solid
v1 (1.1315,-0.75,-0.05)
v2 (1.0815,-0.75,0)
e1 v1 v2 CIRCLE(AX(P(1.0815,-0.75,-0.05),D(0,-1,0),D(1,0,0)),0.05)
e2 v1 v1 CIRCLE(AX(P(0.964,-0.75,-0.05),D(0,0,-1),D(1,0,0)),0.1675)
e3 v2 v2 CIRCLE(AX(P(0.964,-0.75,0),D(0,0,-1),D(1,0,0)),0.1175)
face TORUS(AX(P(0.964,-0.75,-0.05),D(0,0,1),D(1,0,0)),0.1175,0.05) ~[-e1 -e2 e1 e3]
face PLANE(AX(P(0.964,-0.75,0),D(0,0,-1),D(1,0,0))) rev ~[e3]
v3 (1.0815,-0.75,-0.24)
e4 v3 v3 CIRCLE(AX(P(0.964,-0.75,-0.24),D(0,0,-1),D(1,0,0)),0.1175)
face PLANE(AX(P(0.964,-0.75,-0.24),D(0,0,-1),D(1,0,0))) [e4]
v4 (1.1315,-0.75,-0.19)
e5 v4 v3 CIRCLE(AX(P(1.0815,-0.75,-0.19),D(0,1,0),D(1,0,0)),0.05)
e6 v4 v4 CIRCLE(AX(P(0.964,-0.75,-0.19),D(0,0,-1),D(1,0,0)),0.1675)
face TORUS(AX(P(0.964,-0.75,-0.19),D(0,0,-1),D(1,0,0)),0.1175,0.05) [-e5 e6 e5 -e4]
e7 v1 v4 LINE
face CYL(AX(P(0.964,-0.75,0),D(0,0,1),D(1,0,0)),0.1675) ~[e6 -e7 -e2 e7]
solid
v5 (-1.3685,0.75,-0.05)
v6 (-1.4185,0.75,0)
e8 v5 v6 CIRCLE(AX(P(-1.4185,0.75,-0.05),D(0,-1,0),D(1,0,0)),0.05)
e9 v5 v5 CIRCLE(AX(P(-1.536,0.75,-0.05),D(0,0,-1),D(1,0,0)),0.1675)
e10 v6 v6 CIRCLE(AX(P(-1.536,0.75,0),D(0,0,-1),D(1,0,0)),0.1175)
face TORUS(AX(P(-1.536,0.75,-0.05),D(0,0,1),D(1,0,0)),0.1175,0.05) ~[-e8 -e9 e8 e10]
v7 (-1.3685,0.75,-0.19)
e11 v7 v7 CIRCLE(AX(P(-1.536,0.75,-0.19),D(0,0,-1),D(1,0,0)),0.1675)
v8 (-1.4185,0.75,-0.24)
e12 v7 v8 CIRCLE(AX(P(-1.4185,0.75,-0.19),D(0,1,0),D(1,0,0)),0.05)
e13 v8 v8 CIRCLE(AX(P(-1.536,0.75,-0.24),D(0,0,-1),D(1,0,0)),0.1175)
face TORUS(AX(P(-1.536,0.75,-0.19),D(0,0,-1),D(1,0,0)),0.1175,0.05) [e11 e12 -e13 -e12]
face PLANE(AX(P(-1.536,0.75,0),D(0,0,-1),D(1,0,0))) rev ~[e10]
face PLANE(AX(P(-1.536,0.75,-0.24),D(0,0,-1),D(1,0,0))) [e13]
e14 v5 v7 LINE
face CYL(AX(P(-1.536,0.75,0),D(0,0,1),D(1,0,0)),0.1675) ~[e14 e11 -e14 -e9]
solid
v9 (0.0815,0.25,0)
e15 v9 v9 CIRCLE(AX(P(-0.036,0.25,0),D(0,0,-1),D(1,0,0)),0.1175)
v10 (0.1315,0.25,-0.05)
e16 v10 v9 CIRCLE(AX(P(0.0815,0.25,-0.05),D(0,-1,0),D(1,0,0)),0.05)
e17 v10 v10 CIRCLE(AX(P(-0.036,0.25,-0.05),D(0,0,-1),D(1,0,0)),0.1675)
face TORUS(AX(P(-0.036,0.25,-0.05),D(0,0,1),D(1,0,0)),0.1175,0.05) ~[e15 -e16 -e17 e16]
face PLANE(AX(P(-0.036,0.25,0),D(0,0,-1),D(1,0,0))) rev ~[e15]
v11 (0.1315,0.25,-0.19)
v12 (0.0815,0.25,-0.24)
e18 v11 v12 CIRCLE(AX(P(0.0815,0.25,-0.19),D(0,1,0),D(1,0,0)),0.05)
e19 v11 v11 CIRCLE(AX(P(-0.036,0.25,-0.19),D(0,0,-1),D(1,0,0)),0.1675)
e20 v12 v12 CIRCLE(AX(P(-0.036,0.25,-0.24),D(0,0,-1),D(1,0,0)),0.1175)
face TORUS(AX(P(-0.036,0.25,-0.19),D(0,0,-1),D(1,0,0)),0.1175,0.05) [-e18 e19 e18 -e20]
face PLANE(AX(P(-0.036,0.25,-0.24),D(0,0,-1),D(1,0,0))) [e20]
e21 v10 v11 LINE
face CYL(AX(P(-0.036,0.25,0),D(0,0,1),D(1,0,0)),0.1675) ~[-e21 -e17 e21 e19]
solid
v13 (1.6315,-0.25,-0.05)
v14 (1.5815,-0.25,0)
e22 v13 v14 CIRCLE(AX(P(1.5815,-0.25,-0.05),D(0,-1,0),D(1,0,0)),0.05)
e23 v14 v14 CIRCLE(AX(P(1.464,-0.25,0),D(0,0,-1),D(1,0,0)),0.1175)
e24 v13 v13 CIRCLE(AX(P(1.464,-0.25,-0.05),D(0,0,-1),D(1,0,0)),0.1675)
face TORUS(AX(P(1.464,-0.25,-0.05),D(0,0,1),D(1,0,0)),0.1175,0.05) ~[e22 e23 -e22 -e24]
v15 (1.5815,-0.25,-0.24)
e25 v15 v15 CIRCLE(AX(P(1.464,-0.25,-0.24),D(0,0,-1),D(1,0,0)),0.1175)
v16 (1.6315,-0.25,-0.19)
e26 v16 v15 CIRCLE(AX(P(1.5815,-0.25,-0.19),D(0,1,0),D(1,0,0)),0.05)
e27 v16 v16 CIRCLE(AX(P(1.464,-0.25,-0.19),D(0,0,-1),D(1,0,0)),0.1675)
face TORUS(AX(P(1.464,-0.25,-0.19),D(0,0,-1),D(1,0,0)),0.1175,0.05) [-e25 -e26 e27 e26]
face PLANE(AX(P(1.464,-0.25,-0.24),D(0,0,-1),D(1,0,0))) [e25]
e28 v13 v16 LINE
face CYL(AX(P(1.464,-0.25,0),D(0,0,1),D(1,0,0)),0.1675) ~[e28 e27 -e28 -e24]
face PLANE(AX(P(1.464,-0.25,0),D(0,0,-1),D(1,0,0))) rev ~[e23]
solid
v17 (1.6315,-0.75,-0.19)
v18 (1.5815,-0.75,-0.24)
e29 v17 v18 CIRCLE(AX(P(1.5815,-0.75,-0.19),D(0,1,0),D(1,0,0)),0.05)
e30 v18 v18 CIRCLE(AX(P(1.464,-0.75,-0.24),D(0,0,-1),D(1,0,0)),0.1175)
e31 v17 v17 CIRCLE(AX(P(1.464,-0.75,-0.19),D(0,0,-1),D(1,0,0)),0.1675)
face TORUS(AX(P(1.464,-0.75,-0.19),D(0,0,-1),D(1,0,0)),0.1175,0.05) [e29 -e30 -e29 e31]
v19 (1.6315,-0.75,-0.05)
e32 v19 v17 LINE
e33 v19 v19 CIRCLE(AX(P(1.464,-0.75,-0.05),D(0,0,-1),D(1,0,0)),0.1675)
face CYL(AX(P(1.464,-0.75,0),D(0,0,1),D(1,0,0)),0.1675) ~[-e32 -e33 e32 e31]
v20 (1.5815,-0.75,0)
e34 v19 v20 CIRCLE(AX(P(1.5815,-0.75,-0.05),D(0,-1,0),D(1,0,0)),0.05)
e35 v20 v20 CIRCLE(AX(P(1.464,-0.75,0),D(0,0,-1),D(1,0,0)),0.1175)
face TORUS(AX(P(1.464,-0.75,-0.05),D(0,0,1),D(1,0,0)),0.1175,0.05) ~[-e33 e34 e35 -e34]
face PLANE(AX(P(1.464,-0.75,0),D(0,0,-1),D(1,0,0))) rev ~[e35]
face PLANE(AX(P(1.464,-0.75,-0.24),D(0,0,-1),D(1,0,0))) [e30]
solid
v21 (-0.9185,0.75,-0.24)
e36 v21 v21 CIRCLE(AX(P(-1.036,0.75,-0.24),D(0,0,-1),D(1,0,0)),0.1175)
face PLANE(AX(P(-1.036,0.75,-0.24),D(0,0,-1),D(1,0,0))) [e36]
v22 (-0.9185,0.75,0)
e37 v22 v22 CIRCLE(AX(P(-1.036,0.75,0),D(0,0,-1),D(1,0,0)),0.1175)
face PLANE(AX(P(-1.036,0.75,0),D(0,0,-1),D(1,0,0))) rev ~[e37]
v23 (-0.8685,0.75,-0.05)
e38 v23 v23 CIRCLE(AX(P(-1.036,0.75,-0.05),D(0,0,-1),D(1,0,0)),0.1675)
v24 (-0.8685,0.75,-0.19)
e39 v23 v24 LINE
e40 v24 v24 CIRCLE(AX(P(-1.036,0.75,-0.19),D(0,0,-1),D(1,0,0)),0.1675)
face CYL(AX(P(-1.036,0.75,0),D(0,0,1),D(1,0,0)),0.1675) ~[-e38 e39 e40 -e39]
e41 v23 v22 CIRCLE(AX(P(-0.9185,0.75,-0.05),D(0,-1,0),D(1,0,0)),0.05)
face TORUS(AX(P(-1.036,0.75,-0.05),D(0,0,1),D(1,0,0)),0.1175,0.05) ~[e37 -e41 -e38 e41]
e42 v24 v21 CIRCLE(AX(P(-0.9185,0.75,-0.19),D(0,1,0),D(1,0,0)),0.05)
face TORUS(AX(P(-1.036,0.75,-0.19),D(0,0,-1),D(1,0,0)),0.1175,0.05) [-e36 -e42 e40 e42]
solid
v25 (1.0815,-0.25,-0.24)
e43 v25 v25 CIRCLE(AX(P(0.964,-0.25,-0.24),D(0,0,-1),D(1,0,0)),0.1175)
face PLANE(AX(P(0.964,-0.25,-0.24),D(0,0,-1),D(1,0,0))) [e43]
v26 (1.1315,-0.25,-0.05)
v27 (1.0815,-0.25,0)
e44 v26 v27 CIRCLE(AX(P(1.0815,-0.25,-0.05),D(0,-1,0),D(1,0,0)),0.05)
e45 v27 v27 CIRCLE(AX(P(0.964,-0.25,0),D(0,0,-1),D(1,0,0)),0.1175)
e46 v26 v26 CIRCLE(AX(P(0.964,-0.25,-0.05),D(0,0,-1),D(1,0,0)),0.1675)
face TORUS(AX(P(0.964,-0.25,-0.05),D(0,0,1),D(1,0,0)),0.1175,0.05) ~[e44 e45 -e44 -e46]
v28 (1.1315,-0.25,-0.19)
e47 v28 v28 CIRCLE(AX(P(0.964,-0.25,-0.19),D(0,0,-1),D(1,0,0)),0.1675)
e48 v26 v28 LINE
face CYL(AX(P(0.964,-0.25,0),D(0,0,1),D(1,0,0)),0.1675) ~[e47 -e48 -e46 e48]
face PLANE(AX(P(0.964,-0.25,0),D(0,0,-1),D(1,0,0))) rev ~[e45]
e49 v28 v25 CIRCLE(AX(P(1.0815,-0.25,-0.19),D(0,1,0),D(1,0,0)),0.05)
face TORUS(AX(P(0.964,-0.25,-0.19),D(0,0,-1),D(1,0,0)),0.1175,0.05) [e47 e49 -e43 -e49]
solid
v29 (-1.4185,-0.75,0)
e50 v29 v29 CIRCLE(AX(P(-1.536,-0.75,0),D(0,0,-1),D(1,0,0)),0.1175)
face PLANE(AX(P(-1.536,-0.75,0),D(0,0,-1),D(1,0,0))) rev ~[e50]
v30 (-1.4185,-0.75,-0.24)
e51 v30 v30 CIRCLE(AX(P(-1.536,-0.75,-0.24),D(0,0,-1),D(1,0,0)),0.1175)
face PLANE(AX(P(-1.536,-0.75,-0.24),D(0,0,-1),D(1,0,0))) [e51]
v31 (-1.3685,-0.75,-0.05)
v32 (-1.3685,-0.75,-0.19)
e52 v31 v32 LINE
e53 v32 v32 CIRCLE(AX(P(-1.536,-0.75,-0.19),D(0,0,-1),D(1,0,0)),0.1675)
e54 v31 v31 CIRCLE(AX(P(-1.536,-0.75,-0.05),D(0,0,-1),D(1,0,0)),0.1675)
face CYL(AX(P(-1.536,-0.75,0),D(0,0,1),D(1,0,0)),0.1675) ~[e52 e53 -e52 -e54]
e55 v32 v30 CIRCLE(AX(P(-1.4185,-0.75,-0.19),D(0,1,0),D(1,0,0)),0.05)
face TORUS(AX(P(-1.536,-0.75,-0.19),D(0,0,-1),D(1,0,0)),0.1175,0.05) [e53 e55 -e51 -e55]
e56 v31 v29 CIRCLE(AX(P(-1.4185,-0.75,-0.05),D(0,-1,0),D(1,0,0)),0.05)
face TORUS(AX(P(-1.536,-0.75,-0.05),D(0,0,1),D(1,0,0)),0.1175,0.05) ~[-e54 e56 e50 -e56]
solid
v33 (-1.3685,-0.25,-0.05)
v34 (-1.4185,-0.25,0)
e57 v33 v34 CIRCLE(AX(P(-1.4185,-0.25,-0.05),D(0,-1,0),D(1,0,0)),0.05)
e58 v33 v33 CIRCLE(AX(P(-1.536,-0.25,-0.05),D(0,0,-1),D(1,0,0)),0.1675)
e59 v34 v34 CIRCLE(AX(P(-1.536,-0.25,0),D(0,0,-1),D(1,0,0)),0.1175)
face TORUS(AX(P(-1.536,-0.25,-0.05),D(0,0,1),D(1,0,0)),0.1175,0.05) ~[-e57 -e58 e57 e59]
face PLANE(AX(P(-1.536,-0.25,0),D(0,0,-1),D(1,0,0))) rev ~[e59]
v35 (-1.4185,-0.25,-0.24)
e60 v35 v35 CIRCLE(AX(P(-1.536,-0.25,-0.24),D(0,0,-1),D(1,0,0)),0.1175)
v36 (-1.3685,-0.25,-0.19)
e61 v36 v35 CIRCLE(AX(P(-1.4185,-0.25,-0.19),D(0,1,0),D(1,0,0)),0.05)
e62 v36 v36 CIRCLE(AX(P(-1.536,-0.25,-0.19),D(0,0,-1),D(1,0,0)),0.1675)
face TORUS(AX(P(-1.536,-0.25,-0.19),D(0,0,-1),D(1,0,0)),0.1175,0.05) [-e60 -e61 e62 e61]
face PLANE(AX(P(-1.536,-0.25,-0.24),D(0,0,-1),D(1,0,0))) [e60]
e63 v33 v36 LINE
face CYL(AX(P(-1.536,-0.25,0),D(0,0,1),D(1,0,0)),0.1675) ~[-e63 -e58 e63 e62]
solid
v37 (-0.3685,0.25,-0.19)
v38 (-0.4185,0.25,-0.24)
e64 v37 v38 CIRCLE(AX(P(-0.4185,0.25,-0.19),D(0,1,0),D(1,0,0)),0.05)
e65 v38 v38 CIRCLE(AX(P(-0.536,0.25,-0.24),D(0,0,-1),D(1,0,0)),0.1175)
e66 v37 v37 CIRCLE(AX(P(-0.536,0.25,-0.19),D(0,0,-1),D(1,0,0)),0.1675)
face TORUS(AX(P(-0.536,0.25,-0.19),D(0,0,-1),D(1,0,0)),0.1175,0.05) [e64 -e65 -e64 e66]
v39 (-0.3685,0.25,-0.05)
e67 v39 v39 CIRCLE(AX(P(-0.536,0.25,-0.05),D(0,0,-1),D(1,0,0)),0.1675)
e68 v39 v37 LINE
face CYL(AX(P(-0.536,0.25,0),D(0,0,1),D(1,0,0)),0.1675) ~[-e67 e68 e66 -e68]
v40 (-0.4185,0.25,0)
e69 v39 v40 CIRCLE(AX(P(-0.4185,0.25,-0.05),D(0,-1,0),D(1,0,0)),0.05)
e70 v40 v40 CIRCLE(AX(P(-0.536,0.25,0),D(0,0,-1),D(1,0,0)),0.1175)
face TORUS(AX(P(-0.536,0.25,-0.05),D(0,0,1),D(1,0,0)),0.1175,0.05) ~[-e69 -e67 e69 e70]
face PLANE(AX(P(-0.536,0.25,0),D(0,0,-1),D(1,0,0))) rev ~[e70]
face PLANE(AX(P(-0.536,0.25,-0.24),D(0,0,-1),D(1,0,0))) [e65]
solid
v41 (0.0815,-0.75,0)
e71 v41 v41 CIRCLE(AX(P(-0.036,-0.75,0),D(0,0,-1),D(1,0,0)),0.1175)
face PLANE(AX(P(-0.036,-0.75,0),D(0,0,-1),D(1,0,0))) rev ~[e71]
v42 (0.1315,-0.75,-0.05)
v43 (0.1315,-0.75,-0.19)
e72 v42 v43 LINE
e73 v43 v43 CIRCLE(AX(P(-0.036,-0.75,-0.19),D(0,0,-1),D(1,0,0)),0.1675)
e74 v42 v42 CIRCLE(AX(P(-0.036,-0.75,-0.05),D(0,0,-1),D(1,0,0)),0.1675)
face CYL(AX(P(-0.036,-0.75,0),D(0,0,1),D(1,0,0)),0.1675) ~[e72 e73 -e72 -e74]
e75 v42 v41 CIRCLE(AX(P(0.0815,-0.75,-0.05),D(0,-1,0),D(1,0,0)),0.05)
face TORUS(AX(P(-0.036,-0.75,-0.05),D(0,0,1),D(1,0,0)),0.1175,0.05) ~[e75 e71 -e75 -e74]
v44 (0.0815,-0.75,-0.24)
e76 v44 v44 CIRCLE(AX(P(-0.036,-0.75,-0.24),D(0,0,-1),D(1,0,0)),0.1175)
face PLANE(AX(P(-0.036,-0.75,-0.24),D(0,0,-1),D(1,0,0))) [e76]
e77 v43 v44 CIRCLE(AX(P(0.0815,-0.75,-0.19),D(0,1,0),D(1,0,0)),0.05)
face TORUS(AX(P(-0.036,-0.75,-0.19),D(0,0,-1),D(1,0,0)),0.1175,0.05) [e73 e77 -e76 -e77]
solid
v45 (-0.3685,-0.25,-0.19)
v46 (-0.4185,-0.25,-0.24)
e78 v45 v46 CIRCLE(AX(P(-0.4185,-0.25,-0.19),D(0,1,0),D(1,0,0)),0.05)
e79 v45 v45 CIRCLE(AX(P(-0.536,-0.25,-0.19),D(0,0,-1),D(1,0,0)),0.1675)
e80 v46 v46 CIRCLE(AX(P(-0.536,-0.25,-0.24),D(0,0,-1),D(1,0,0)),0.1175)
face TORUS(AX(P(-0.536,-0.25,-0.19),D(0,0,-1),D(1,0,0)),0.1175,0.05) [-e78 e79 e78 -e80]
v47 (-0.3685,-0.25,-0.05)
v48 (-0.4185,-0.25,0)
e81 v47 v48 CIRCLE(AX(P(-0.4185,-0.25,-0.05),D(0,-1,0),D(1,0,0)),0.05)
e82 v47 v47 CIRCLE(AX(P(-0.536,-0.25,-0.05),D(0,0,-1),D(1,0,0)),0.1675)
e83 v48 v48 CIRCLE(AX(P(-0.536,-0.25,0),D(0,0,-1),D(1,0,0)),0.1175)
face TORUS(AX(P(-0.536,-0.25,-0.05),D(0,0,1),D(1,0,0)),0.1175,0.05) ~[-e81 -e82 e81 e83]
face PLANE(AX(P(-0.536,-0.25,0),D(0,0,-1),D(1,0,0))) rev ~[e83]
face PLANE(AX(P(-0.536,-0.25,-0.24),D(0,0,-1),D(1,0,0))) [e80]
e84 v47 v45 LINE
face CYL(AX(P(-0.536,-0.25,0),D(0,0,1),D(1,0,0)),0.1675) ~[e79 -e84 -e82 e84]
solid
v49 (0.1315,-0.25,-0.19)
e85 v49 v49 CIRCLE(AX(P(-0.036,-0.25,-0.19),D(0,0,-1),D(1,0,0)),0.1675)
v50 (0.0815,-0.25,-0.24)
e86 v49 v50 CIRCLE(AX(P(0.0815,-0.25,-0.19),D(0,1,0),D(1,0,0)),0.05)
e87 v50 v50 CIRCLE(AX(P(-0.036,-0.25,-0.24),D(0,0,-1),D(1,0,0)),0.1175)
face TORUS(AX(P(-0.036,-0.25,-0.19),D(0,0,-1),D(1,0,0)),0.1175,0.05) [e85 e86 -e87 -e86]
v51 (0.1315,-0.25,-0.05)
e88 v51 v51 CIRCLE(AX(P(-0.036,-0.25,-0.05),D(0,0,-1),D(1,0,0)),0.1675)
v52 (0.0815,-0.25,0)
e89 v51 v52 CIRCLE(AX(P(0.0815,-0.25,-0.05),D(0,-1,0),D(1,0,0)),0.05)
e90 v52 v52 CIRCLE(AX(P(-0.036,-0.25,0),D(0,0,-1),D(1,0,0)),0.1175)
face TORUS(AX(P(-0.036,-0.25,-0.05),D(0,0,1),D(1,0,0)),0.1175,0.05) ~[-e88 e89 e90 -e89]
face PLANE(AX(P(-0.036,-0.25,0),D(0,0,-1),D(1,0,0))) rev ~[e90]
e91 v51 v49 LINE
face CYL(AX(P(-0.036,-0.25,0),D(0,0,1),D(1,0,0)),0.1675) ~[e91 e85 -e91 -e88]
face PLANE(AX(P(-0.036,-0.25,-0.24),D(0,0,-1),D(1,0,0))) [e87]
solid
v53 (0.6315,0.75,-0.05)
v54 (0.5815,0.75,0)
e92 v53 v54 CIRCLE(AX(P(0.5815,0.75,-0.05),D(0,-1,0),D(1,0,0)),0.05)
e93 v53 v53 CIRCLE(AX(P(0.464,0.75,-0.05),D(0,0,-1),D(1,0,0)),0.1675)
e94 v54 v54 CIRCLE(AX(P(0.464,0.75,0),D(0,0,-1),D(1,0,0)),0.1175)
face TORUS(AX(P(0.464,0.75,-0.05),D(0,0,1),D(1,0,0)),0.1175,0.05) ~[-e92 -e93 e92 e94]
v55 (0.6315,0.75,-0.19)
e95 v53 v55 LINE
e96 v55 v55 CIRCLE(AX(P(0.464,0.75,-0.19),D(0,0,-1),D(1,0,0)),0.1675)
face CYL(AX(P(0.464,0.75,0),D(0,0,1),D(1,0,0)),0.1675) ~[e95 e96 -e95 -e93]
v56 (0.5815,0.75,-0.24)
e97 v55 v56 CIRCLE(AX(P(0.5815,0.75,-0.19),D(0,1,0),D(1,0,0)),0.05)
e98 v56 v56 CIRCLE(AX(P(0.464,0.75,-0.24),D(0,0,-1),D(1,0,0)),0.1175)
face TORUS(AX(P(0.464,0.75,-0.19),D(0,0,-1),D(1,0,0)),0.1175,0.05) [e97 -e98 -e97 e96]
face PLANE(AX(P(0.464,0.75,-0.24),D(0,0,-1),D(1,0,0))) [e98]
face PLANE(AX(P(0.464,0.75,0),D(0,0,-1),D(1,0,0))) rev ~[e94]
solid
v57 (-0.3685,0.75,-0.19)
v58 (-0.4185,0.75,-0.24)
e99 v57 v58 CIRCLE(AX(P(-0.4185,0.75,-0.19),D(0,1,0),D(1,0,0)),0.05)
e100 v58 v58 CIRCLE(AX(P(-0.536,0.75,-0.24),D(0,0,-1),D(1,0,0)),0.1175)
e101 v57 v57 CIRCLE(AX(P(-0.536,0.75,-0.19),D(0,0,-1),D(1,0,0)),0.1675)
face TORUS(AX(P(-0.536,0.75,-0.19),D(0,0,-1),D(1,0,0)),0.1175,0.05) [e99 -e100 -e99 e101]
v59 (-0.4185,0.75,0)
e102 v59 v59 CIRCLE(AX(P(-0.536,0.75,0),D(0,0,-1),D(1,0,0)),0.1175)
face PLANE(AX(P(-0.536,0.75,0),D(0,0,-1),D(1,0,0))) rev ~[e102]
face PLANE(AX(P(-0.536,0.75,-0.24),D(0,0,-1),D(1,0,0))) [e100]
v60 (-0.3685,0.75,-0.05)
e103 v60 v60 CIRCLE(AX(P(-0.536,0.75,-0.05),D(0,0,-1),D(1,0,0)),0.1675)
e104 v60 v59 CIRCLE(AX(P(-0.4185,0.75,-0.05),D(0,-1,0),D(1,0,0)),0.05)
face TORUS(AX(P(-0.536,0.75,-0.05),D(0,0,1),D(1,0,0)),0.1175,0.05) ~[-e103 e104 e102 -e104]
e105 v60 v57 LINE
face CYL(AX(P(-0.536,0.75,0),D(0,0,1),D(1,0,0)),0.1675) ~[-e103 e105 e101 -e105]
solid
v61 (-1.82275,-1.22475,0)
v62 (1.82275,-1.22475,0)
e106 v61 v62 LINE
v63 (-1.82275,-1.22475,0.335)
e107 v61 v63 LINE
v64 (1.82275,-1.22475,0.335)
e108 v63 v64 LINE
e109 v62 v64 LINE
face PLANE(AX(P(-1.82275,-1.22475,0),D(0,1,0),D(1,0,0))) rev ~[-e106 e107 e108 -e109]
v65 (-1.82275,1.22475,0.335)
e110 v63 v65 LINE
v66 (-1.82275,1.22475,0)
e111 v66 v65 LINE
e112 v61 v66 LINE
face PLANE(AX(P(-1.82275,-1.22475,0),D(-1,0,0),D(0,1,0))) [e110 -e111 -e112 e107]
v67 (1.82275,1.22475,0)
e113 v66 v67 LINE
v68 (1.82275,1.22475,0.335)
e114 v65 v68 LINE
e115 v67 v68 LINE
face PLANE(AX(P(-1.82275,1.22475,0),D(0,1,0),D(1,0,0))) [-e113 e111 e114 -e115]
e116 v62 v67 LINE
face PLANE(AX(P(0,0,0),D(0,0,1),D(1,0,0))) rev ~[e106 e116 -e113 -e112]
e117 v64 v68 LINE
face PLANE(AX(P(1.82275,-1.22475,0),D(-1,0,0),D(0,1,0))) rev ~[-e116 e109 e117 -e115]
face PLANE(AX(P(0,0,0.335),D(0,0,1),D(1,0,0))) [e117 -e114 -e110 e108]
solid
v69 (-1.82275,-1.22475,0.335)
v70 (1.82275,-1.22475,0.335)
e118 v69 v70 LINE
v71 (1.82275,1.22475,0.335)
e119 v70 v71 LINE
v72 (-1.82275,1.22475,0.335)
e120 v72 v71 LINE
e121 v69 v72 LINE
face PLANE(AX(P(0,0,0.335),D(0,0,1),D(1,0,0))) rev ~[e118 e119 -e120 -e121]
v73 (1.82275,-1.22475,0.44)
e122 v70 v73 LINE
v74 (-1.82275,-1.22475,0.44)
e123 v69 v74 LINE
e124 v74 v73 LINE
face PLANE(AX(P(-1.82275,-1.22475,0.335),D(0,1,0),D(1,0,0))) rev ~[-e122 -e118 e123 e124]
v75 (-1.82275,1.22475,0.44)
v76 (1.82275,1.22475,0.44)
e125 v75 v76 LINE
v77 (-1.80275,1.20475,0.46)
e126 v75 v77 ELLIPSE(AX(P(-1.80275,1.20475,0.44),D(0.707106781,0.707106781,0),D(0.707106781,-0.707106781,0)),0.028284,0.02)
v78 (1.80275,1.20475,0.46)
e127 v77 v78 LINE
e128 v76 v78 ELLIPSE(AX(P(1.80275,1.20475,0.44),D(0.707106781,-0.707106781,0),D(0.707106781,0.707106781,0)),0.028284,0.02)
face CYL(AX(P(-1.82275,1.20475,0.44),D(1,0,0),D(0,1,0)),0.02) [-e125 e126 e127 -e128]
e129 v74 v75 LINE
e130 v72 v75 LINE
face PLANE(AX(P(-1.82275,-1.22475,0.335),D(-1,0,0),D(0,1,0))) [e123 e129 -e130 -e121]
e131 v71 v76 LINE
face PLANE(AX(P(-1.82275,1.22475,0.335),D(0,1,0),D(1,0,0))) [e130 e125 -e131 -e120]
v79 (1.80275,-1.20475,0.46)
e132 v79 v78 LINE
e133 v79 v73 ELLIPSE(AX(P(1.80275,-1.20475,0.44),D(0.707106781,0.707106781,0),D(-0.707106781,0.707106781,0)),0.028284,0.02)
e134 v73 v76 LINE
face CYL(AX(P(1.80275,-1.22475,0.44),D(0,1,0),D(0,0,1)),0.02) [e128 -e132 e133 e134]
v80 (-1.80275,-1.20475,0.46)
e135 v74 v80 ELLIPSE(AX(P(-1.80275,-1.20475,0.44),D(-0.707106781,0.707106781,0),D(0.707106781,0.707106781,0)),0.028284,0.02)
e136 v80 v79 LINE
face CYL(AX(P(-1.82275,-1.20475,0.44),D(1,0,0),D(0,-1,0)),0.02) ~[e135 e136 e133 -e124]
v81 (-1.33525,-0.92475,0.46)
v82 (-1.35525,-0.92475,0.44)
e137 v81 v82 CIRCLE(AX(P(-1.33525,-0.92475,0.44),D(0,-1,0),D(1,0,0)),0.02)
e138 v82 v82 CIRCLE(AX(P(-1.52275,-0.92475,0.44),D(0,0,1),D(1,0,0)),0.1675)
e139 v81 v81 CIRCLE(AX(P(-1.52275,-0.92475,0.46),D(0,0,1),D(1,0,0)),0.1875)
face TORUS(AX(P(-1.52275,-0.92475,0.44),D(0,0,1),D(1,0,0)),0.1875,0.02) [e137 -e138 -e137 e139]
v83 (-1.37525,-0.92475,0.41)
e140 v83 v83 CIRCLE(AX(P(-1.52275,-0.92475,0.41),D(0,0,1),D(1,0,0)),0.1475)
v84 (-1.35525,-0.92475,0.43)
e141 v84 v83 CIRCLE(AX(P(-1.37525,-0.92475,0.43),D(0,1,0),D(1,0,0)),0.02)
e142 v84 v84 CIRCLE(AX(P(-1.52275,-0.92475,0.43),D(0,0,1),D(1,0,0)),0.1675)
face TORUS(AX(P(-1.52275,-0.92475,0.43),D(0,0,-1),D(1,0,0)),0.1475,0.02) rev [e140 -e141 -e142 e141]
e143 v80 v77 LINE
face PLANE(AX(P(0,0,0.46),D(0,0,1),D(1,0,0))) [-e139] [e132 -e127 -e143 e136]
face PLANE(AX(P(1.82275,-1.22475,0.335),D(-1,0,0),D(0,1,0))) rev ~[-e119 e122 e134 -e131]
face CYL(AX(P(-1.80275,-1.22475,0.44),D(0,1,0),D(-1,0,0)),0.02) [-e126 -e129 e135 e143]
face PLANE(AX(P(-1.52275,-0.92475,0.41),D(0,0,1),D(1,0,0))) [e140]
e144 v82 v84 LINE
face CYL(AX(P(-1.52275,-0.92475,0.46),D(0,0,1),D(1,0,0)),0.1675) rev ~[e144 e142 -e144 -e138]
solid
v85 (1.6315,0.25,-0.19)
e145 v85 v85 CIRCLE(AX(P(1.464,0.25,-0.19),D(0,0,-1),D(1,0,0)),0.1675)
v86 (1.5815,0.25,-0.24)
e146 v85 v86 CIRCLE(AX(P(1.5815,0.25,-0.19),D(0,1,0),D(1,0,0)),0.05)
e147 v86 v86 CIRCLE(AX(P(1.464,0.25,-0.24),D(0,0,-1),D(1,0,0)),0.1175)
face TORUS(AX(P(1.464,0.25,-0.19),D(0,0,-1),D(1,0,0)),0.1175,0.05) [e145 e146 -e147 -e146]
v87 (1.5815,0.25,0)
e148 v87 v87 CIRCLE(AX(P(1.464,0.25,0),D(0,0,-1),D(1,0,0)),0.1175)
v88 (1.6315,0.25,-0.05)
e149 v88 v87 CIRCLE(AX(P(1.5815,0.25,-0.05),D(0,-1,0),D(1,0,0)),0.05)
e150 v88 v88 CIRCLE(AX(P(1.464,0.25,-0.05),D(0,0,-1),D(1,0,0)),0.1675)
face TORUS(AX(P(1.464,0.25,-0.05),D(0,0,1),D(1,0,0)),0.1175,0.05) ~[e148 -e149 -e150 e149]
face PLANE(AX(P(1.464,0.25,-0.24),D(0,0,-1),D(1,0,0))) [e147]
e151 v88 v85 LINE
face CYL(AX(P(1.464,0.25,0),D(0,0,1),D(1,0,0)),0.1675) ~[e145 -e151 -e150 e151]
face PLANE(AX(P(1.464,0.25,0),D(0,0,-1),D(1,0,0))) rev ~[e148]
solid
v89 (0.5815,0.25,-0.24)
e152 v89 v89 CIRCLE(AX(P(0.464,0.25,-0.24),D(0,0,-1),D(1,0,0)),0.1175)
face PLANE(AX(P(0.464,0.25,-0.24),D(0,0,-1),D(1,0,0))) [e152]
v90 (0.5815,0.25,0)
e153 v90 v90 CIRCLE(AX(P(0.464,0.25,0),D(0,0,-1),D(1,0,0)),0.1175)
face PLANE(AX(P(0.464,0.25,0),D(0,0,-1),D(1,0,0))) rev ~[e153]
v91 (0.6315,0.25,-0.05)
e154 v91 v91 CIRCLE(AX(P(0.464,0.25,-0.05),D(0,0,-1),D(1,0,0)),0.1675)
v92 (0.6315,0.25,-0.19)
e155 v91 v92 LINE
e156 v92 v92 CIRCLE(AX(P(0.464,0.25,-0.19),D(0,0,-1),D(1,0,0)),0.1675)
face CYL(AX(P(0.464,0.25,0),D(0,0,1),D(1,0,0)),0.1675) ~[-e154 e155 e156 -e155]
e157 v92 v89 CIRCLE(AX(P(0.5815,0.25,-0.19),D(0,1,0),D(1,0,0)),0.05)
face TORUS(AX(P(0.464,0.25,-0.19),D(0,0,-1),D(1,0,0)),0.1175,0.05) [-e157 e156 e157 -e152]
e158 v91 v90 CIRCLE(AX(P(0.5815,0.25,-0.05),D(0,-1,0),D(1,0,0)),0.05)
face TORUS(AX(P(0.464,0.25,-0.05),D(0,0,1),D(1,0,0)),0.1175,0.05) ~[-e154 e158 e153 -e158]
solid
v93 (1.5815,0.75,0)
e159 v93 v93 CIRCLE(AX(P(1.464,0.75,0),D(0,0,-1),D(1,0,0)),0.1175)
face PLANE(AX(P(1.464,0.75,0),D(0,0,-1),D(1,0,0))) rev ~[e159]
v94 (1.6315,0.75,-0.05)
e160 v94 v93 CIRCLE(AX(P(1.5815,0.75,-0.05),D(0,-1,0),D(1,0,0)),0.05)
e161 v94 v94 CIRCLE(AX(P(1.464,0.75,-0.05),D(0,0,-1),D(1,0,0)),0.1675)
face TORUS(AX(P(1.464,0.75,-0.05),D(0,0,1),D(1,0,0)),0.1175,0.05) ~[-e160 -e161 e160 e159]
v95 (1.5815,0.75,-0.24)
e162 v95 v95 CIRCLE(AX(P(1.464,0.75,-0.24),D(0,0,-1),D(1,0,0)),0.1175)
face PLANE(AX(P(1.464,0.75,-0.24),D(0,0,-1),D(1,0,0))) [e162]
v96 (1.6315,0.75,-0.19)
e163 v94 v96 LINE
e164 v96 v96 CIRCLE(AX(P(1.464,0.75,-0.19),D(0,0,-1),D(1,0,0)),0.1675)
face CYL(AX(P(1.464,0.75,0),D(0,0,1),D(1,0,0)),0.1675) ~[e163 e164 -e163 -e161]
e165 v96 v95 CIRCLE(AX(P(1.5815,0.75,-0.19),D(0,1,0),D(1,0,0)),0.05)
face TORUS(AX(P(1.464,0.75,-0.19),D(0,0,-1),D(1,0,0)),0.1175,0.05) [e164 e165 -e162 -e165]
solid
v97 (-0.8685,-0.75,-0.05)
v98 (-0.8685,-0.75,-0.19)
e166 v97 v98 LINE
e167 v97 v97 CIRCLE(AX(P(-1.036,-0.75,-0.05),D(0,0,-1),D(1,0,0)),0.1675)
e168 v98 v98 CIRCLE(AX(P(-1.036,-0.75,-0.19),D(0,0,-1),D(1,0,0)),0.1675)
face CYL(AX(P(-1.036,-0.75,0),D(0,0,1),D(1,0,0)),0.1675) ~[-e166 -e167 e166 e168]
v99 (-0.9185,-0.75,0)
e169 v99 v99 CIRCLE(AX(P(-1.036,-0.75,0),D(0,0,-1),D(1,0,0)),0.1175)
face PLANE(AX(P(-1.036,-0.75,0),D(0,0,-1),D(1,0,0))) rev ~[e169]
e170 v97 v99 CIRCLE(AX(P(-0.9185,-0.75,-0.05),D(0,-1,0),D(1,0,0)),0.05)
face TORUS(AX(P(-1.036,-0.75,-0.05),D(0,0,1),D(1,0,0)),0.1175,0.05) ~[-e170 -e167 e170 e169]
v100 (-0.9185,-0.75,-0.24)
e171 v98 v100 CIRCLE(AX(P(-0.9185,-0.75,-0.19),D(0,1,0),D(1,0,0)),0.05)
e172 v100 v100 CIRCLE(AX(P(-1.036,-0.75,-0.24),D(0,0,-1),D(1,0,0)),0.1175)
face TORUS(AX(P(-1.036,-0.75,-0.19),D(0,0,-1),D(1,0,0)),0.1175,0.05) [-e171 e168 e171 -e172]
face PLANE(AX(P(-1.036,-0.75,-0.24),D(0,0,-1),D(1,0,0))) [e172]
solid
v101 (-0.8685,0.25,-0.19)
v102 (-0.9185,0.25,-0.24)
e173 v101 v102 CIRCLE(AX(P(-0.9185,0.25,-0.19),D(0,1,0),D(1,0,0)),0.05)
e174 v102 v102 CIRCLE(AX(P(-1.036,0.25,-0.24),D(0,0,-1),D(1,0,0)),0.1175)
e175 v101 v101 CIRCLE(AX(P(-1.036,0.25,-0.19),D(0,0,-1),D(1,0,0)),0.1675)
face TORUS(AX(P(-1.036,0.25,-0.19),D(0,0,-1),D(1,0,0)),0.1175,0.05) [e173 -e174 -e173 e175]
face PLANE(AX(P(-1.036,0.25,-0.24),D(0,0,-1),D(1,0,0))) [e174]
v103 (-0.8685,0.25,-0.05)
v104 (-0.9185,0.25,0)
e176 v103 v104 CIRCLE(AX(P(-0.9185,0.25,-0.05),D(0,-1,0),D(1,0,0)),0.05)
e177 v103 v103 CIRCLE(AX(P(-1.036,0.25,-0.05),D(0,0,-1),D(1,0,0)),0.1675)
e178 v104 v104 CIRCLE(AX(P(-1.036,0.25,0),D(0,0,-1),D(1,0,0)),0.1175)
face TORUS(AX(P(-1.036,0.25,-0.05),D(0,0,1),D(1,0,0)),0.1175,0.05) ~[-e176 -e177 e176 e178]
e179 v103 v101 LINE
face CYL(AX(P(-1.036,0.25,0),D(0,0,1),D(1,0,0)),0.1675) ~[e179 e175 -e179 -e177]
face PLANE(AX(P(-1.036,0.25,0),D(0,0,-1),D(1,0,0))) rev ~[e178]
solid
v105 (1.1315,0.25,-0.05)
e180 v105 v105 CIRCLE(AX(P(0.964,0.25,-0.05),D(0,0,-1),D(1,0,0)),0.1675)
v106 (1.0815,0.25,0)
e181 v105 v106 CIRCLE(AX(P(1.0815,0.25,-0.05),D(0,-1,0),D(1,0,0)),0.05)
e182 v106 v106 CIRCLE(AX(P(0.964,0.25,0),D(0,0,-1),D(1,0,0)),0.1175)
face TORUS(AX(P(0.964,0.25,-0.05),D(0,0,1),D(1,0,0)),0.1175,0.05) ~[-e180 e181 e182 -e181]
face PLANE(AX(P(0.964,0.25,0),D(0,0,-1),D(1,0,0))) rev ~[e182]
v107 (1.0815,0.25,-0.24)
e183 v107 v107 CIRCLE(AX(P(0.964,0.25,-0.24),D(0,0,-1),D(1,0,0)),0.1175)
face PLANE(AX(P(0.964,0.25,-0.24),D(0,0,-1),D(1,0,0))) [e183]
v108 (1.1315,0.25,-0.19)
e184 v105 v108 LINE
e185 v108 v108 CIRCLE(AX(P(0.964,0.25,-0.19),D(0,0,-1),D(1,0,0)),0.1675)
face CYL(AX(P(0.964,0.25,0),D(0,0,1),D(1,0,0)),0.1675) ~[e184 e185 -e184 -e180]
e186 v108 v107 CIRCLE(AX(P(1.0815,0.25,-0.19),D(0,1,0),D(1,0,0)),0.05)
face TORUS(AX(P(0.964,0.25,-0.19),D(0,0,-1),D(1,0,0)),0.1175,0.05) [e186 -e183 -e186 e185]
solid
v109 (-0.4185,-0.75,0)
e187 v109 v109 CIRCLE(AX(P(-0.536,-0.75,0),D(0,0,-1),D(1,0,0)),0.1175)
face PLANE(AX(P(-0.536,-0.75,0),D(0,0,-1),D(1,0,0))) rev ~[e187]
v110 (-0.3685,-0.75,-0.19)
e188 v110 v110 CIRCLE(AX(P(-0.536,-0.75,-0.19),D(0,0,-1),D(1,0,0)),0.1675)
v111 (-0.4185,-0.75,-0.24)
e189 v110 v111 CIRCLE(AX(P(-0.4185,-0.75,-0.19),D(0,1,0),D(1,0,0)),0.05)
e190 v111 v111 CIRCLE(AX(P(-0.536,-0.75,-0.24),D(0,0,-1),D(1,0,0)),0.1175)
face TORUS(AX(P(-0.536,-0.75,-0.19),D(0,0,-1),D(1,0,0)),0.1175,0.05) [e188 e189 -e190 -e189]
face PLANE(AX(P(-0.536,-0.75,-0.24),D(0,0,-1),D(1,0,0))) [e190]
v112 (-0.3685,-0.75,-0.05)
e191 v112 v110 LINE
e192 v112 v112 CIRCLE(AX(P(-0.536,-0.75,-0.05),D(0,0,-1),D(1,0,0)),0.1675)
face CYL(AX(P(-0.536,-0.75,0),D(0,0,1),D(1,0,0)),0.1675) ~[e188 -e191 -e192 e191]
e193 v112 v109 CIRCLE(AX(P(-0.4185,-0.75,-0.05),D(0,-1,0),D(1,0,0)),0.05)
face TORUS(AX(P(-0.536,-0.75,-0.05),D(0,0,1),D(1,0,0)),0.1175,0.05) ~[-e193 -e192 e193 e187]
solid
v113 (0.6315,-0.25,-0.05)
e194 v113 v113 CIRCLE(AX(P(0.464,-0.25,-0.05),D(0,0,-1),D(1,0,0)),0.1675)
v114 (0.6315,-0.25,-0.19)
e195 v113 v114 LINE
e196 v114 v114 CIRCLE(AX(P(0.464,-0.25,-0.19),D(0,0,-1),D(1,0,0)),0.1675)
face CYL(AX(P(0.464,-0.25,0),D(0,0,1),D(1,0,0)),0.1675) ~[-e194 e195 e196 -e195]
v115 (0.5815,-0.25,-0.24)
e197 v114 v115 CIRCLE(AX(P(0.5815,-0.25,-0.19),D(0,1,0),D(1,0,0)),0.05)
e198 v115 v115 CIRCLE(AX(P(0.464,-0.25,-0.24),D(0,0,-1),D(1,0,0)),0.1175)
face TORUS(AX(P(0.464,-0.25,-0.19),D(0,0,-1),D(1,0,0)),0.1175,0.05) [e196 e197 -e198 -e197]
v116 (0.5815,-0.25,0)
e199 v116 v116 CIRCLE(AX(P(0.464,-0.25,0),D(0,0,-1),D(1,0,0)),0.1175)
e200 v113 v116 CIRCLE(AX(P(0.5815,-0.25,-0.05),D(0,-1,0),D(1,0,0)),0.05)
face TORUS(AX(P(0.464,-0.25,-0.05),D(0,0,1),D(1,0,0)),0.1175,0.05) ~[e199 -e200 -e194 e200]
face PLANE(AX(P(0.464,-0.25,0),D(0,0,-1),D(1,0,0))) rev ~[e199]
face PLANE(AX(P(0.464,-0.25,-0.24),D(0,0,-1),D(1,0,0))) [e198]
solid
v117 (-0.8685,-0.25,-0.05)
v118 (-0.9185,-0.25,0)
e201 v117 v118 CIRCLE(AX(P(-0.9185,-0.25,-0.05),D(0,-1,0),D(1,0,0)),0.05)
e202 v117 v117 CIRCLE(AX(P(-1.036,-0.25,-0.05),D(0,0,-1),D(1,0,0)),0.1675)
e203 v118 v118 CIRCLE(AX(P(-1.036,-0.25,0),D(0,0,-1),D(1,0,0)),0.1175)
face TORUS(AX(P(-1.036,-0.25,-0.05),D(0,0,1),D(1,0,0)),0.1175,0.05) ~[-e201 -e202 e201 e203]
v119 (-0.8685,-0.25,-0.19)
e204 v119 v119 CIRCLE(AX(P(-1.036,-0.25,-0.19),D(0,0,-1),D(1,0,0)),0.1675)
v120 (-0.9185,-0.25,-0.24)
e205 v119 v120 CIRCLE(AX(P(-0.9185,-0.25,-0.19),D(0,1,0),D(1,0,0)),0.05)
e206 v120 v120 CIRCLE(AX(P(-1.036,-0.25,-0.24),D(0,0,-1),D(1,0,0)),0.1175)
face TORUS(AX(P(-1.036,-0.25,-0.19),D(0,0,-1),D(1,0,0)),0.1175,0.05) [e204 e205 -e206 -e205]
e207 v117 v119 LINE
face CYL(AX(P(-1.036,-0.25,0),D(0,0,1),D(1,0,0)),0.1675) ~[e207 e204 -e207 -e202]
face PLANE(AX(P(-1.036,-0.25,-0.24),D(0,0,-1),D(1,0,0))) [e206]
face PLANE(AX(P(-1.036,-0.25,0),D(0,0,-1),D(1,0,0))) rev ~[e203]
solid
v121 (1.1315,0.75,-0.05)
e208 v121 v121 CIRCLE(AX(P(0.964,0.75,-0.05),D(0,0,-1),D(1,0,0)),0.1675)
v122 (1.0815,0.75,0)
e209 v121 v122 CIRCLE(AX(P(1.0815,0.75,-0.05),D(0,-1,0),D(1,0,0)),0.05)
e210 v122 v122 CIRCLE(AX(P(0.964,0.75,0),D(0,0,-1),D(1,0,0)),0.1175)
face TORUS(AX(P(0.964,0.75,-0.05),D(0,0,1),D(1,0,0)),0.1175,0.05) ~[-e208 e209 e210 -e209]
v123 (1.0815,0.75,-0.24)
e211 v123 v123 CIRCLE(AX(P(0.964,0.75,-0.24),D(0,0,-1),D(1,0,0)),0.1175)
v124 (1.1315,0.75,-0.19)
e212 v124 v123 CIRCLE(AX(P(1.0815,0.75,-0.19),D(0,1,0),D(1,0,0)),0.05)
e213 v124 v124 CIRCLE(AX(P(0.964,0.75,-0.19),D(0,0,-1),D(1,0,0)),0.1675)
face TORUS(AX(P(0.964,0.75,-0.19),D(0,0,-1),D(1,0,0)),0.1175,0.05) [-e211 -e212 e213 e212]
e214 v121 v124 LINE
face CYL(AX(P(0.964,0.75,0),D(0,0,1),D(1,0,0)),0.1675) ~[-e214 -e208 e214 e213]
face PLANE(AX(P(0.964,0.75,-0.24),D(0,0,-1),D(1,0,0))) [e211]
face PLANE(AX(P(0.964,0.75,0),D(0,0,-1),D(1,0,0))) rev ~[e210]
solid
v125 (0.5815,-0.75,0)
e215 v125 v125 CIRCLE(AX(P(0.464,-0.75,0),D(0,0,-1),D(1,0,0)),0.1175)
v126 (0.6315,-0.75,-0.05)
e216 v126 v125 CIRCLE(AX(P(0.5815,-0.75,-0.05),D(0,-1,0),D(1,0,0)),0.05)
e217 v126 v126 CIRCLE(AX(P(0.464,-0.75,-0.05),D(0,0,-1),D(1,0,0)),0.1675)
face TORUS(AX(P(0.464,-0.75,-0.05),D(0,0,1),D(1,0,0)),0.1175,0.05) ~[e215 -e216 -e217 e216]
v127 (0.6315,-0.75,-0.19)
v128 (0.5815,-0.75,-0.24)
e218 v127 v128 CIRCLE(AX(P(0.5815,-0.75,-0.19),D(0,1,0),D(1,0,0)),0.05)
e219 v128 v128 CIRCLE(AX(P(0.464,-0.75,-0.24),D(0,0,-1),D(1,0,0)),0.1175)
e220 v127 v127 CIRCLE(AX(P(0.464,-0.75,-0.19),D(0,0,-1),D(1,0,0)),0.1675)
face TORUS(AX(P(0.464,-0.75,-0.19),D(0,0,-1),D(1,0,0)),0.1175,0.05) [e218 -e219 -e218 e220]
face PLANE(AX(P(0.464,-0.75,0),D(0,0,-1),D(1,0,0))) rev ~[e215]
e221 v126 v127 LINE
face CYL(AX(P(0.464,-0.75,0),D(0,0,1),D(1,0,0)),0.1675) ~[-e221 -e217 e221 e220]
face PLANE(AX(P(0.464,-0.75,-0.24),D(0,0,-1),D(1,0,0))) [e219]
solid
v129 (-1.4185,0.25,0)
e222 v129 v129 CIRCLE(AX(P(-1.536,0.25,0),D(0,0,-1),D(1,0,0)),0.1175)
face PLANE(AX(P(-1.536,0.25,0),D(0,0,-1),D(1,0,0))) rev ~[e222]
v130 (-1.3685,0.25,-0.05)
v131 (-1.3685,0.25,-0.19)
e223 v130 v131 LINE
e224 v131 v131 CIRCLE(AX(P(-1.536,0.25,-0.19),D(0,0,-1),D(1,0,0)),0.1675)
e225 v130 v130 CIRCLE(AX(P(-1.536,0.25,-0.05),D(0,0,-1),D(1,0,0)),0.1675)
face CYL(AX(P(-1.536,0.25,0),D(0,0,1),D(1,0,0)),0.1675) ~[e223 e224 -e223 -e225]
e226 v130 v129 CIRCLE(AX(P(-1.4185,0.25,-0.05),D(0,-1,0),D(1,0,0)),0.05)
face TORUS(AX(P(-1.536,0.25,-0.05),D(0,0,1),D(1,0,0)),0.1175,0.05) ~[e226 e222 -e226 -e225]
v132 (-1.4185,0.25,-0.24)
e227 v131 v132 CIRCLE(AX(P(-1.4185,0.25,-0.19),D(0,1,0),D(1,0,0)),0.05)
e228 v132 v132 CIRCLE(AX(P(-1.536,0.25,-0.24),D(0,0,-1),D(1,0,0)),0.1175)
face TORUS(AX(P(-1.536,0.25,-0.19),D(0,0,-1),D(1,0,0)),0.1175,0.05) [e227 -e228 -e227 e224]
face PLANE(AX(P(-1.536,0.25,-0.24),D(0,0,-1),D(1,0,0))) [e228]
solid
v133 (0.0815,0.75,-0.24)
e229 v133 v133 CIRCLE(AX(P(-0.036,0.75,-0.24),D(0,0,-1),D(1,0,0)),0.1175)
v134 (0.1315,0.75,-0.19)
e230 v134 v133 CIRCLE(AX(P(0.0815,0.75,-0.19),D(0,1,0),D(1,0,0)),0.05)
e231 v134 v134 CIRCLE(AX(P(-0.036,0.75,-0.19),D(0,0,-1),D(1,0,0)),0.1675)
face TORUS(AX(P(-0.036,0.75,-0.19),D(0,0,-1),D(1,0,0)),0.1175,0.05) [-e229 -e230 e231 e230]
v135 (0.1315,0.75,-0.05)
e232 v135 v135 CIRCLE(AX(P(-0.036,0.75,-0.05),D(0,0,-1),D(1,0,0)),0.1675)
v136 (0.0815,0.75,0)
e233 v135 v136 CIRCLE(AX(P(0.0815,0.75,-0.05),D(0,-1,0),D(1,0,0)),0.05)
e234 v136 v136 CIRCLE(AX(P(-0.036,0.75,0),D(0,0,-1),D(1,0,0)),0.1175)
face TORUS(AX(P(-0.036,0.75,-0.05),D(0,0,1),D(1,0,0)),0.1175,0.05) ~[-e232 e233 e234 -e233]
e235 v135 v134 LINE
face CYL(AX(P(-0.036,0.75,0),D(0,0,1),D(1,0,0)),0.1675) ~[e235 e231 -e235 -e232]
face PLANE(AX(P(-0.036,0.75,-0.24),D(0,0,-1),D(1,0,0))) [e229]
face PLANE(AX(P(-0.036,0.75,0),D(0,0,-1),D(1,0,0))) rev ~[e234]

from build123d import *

# Parameters (mm, degrees)
F0_W     = 3.6455
F0_H     = 2.4495
F1_DEPTH = 0.335
F2_DEPTH = 0.125
F3_R     = 0.1675
F4_DEPTH = 0.24
F5_R     = 0.05
F5_2_R   = 0.05
F5_3_R   = 0.05
F5_4_R   = 0.05
F5_5_R   = 0.05
F5_6_R   = 0.05
F5_7_R   = 0.05
F5_8_R   = 0.05
F5_9_R   = 0.05
F5_10_R  = 0.05
F5_11_R  = 0.05
F5_12_R  = 0.05
F5_13_R  = 0.05
F5_14_R  = 0.05
F5_15_R  = 0.05
F5_16_R  = 0.05
F5_17_R  = 0.05
F5_18_R  = 0.05
F5_19_R  = 0.05
F5_20_R  = 0.05
F5_21_R  = 0.05
F5_22_R  = 0.05
F5_23_R  = 0.05
F5_24_R  = 0.05
F5_25_R  = 0.05
F5_26_R  = 0.05
F5_27_R  = 0.05
F5_28_R  = 0.05
F6_R     = 0.1675
F7_DEPTH = 0.05
F8_R     = 0.02


with BuildPart() as f1:
    # F0 (on Top) → F1 (new body)
    with BuildSketch(Plane.XY):
        Rectangle(F0_W, F0_H)
    extrude(amount=F1_DEPTH)


with BuildPart() as f2:
    # F2 (new): a face of the model
    f2_faces = [f1.part.faces().sort_by_distance(p)[0] for p in [
        (0, 0, 0.335),
    ]]
    extrude(f2_faces, amount=F2_DEPTH)

    # F6 (on face) → F7 (cut)
    with BuildSketch(Plane.XY.offset(0.46)):
        with Locations((-1.52275, -0.92475)):
            Circle(F6_R)
    extrude(amount=-F7_DEPTH, mode=Mode.SUBTRACT)

    # F8
    f8_edges = [f2.edges().sort_by_distance(p)[0] for p in [
        (-1.69025, -0.92475, 0.46),
        (0, 1.22475, 0.46),
        (1.82275, 0, 0.46),
        (-1.82275, 0, 0.46),
        (0, -1.22475, 0.46),
        (-1.69025, -0.92475, 0.41),
    ]]
    fillet(f8_edges, radius=F8_R)


with BuildPart() as f4:
    # F3 (on face) → F4 (new body)
    with BuildSketch(Plane(origin=(0, 0, 0), x_dir=(1, 0, 0), z_dir=(0, 0, -1))):
        with Locations((1.464, -0.75)):
            Circle(F3_R)
    extrude(amount=F4_DEPTH)

    # F5#28
    f5_28_edges = [f4.edges().sort_by_distance(p)[0] for p in [
        (1.2965, 0.75, -0.24),
        (1.2965, 0.75, 0),
    ]]
    fillet(f5_28_edges, radius=F5_28_R)


with BuildPart() as f4b:
    # F3 (on face) → F4, piece 2 (new body)
    with BuildSketch(Plane(origin=(0, 0, 0), x_dir=(1, 0, 0), z_dir=(0, 0, -1))):
        with Locations((1.464, -0.25)):
            Circle(F3_R)
    extrude(amount=F4_DEPTH)

    # F5#21
    f5_21_edges = [f4b.edges().sort_by_distance(p)[0] for p in [
        (1.2965, 0.25, -0.24),
        (1.2965, 0.25, 0),
    ]]
    fillet(f5_21_edges, radius=F5_21_R)


with BuildPart() as f4c:
    # F3 (on face) → F4, piece 3 (new body)
    with BuildSketch(Plane(origin=(0, 0, 0), x_dir=(1, 0, 0), z_dir=(0, 0, -1))):
        with Locations((0.964, -0.75)):
            Circle(F3_R)
    extrude(amount=F4_DEPTH)

    # F5#27
    f5_27_edges = [f4c.edges().sort_by_distance(p)[0] for p in [
        (0.7965, 0.75, -0.24),
        (0.7965, 0.75, 0),
    ]]
    fillet(f5_27_edges, radius=F5_27_R)


with BuildPart() as f4d:
    # F3 (on face) → F4, piece 4 (new body)
    with BuildSketch(Plane(origin=(0, 0, 0), x_dir=(1, 0, 0), z_dir=(0, 0, -1))):
        with Locations((0.964, -0.25)):
            Circle(F3_R)
    extrude(amount=F4_DEPTH)

    # F5#20
    f5_20_edges = [f4d.edges().sort_by_distance(p)[0] for p in [
        (0.7965, 0.25, -0.24),
        (0.7965, 0.25, 0),
    ]]
    fillet(f5_20_edges, radius=F5_20_R)


with BuildPart() as f4e:
    # F3 (on face) → F4, piece 5 (new body)
    with BuildSketch(Plane(origin=(0, 0, 0), x_dir=(1, 0, 0), z_dir=(0, 0, -1))):
        with Locations((0.464, -0.75)):
            Circle(F3_R)
    extrude(amount=F4_DEPTH)

    # F5#26
    f5_26_edges = [f4e.edges().sort_by_distance(p)[0] for p in [
        (0.2965, 0.75, 0),
        (0.2965, 0.75, -0.24),
    ]]
    fillet(f5_26_edges, radius=F5_26_R)


with BuildPart() as f4f:
    # F3 (on face) → F4, piece 6 (new body)
    with BuildSketch(Plane(origin=(0, 0, 0), x_dir=(1, 0, 0), z_dir=(0, 0, -1))):
        with Locations((0.464, -0.25)):
            Circle(F3_R)
    extrude(amount=F4_DEPTH)

    # F5#19
    f5_19_edges = [f4f.edges().sort_by_distance(p)[0] for p in [
        (0.2965, 0.25, -0.24),
        (0.2965, 0.25, 0),
    ]]
    fillet(f5_19_edges, radius=F5_19_R)


with BuildPart() as f4g:
    # F3 (on face) → F4, piece 7 (new body)
    with BuildSketch(Plane(origin=(0, 0, 0), x_dir=(1, 0, 0), z_dir=(0, 0, -1))):
        with Locations((-0.036, -0.75)):
            Circle(F3_R)
    extrude(amount=F4_DEPTH)

    # F5#25
    f5_25_edges = [f4g.edges().sort_by_distance(p)[0] for p in [
        (-0.2035, 0.75, 0),
        (-0.2035, 0.75, -0.24),
    ]]
    fillet(f5_25_edges, radius=F5_25_R)


with BuildPart() as f4h:
    # F3 (on face) → F4, piece 8 (new body)
    with BuildSketch(Plane(origin=(0, 0, 0), x_dir=(1, 0, 0), z_dir=(0, 0, -1))):
        with Locations((-0.036, -0.25)):
            Circle(F3_R)
    extrude(amount=F4_DEPTH)

    # F5#18
    f5_18_edges = [f4h.edges().sort_by_distance(p)[0] for p in [
        (-0.2035, 0.25, -0.24),
        (-0.2035, 0.25, 0),
    ]]
    fillet(f5_18_edges, radius=F5_18_R)


with BuildPart() as f4i:
    # F3 (on face) → F4, piece 9 (new body)
    with BuildSketch(Plane(origin=(0, 0, 0), x_dir=(1, 0, 0), z_dir=(0, 0, -1))):
        with Locations((-0.536, -0.7500000065)):
            Circle(F3_R)
    extrude(amount=F4_DEPTH)

    # F5#24
    f5_24_edges = [f4i.edges().sort_by_distance(p)[0] for p in [
        (-0.7035, 0.75, -0.24),
        (-0.7035, 0.75, 0),
    ]]
    fillet(f5_24_edges, radius=F5_24_R)


with BuildPart() as f4j:
    # F3 (on face) → F4, piece 10 (new body)
    with BuildSketch(Plane(origin=(0, 0, 0), x_dir=(1, 0, 0), z_dir=(0, 0, -1))):
        with Locations((-0.536, -0.2500000065)):
            Circle(F3_R)
    extrude(amount=F4_DEPTH)

    # F5#17
    f5_17_edges = [f4j.edges().sort_by_distance(p)[0] for p in [
        (-0.7035, 0.25, -0.24),
        (-0.7035, 0.25, 0),
    ]]
    fillet(f5_17_edges, radius=F5_17_R)


with BuildPart() as f4k:
    # F3 (on face) → F4, piece 11 (new body)
    with BuildSketch(Plane(origin=(0, 0, 0), x_dir=(1, 0, 0), z_dir=(0, 0, -1))):
        with Locations((-1.036, -0.7500000065)):
            Circle(F3_R)
    extrude(amount=F4_DEPTH)

    # F5#23
    f5_23_edges = [f4k.edges().sort_by_distance(p)[0] for p in [
        (-1.2035, 0.75, -0.24),
        (-1.2035, 0.75, 0),
    ]]
    fillet(f5_23_edges, radius=F5_23_R)


with BuildPart() as f4l:
    # F3 (on face) → F4, piece 12 (new body)
    with BuildSketch(Plane(origin=(0, 0, 0), x_dir=(1, 0, 0), z_dir=(0, 0, -1))):
        with Locations((-1.036, -0.2500000065)):
            Circle(F3_R)
    extrude(amount=F4_DEPTH)

    # F5#16
    f5_16_edges = [f4l.edges().sort_by_distance(p)[0] for p in [
        (-1.2035, 0.25, -0.24),
        (-1.2035, 0.25, 0),
    ]]
    fillet(f5_16_edges, radius=F5_16_R)


with BuildPart() as f4m:
    # F3 (on face) → F4, piece 13 (new body)
    with BuildSketch(Plane(origin=(0, 0, 0), x_dir=(1, 0, 0), z_dir=(0, 0, -1))):
        with Locations((-1.536, -0.7500000065)):
            Circle(F3_R)
    extrude(amount=F4_DEPTH)

    # F5#22
    f5_22_edges = [f4m.edges().sort_by_distance(p)[0] for p in [
        (-1.7035, 0.75, -0.24),
        (-1.7035, 0.75, 0),
    ]]
    fillet(f5_22_edges, radius=F5_22_R)


with BuildPart() as f4n:
    # F3 (on face) → F4, piece 14 (new body)
    with BuildSketch(Plane(origin=(0, 0, 0), x_dir=(1, 0, 0), z_dir=(0, 0, -1))):
        with Locations((-1.536, -0.2500000065)):
            Circle(F3_R)
    extrude(amount=F4_DEPTH)

    # F5#15
    f5_15_edges = [f4n.edges().sort_by_distance(p)[0] for p in [
        (-1.7035, 0.25, -0.24),
        (-1.7035, 0.25, 0),
    ]]
    fillet(f5_15_edges, radius=F5_15_R)


with BuildPart() as f4o:
    # F3 (on face) → F4, piece 15 (new body)
    with BuildSketch(Plane(origin=(0, 0, 0), x_dir=(1, 0, 0), z_dir=(0, 0, -1))):
        with Locations((-1.536, 0.2500000065)):
            Circle(F3_R)
    extrude(amount=F4_DEPTH)

    # F5#14
    f5_14_edges = [f4o.edges().sort_by_distance(p)[0] for p in [
        (-1.7035, -0.25, -0.24),
        (-1.7035, -0.25, 0),
    ]]
    fillet(f5_14_edges, radius=F5_14_R)


with BuildPart() as f4p:
    # F3 (on face) → F4, piece 16 (new body)
    with BuildSketch(Plane(origin=(0, 0, 0), x_dir=(1, 0, 0), z_dir=(0, 0, -1))):
        with Locations((-1.536, 0.7500000065)):
            Circle(F3_R)
    extrude(amount=F4_DEPTH)

    # F5
    f5_edges = [f4p.edges().sort_by_distance(p)[0] for p in [
        (-1.7035, -0.75, -0.24),
        (-1.7035, -0.75, 0),
    ]]
    fillet(f5_edges, radius=F5_R)


with BuildPart() as f4q:
    # F3 (on face) → F4, piece 17 (new body)
    with BuildSketch(Plane(origin=(0, 0, 0), x_dir=(1, 0, 0), z_dir=(0, 0, -1))):
        with Locations((-1.036, 0.7500000065)):
            Circle(F3_R)
    extrude(amount=F4_DEPTH)

    # F5#2
    f5_2_edges = [f4q.edges().sort_by_distance(p)[0] for p in [
        (-1.2035, -0.75, -0.24),
        (-1.2035, -0.75, 0),
    ]]
    fillet(f5_2_edges, radius=F5_2_R)


with BuildPart() as f4r:
    # F3 (on face) → F4, piece 18 (new body)
    with BuildSketch(Plane(origin=(0, 0, 0), x_dir=(1, 0, 0), z_dir=(0, 0, -1))):
        with Locations((-1.036, 0.2500000065)):
            Circle(F3_R)
    extrude(amount=F4_DEPTH)

    # F5#13
    f5_13_edges = [f4r.edges().sort_by_distance(p)[0] for p in [
        (-1.2035, -0.25, -0.24),
        (-1.2035, -0.25, 0),
    ]]
    fillet(f5_13_edges, radius=F5_13_R)


with BuildPart() as f4s:
    # F3 (on face) → F4, piece 19 (new body)
    with BuildSketch(Plane(origin=(0, 0, 0), x_dir=(1, 0, 0), z_dir=(0, 0, -1))):
        with Locations((-0.536, 0.2500000065)):
            Circle(F3_R)
    extrude(amount=F4_DEPTH)

    # F5#12
    f5_12_edges = [f4s.edges().sort_by_distance(p)[0] for p in [
        (-0.7035, -0.25, -0.24),
        (-0.7035, -0.25, 0),
    ]]
    fillet(f5_12_edges, radius=F5_12_R)


with BuildPart() as f4t:
    # F3 (on face) → F4, piece 20 (new body)
    with BuildSketch(Plane(origin=(0, 0, 0), x_dir=(1, 0, 0), z_dir=(0, 0, -1))):
        with Locations((-0.536, 0.7500000065)):
            Circle(F3_R)
    extrude(amount=F4_DEPTH)

    # F5#3
    f5_3_edges = [f4t.edges().sort_by_distance(p)[0] for p in [
        (-0.7035, -0.75, -0.24),
        (-0.7035, -0.75, 0),
    ]]
    fillet(f5_3_edges, radius=F5_3_R)


with BuildPart() as f4u:
    # F3 (on face) → F4, piece 21 (new body)
    with BuildSketch(Plane(origin=(0, 0, 0), x_dir=(1, 0, 0), z_dir=(0, 0, -1))):
        with Locations((-0.036, 0.75)):
            Circle(F3_R)
    extrude(amount=F4_DEPTH)

    # F5#6
    f5_6_edges = [f4u.edges().sort_by_distance(p)[0] for p in [
        (-0.2035, -0.75, -0.24),
        (-0.2035, -0.75, 0),
    ]]
    fillet(f5_6_edges, radius=F5_6_R)


with BuildPart() as f4v:
    # F3 (on face) → F4, piece 22 (new body)
    with BuildSketch(Plane(origin=(0, 0, 0), x_dir=(1, 0, 0), z_dir=(0, 0, -1))):
        with Locations((-0.036, 0.25)):
            Circle(F3_R)
    extrude(amount=F4_DEPTH)

    # F5#11
    f5_11_edges = [f4v.edges().sort_by_distance(p)[0] for p in [
        (-0.2035, -0.25, -0.24),
        (-0.2035, -0.25, 0),
    ]]
    fillet(f5_11_edges, radius=F5_11_R)


with BuildPart() as f4w:
    # F3 (on face) → F4, piece 23 (new body)
    with BuildSketch(Plane(origin=(0, 0, 0), x_dir=(1, 0, 0), z_dir=(0, 0, -1))):
        with Locations((0.464, 0.25)):
            Circle(F3_R)
    extrude(amount=F4_DEPTH)

    # F5#10
    f5_10_edges = [f4w.edges().sort_by_distance(p)[0] for p in [
        (0.2965, -0.25, -0.24),
        (0.2965, -0.25, 0),
    ]]
    fillet(f5_10_edges, radius=F5_10_R)


with BuildPart() as f4x:
    # F3 (on face) → F4, piece 24 (new body)
    with BuildSketch(Plane(origin=(0, 0, 0), x_dir=(1, 0, 0), z_dir=(0, 0, -1))):
        with Locations((0.464, 0.75)):
            Circle(F3_R)
    extrude(amount=F4_DEPTH)

    # F5#4
    f5_4_edges = [f4x.edges().sort_by_distance(p)[0] for p in [
        (0.2965, -0.75, -0.24),
        (0.2965, -0.75, 0),
    ]]
    fillet(f5_4_edges, radius=F5_4_R)


with BuildPart() as f4y:
    # F3 (on face) → F4, piece 25 (new body)
    with BuildSketch(Plane(origin=(0, 0, 0), x_dir=(1, 0, 0), z_dir=(0, 0, -1))):
        with Locations((0.964, 0.75)):
            Circle(F3_R)
    extrude(amount=F4_DEPTH)

    # F5#5
    f5_5_edges = [f4y.edges().sort_by_distance(p)[0] for p in [
        (0.7965, -0.75, -0.24),
        (0.7965, -0.75, 0),
    ]]
    fillet(f5_5_edges, radius=F5_5_R)


with BuildPart() as f4z:
    # F3 (on face) → F4, piece 26 (new body)
    with BuildSketch(Plane(origin=(0, 0, 0), x_dir=(1, 0, 0), z_dir=(0, 0, -1))):
        with Locations((0.964, 0.25)):
            Circle(F3_R)
    extrude(amount=F4_DEPTH)

    # F5#9
    f5_9_edges = [f4z.edges().sort_by_distance(p)[0] for p in [
        (0.7965, -0.25, -0.24),
        (0.7965, -0.25, 0),
    ]]
    fillet(f5_9_edges, radius=F5_9_R)


with BuildPart() as f4ba:
    # F3 (on face) → F4, piece 27 (new body)
    with BuildSketch(Plane(origin=(0, 0, 0), x_dir=(1, 0, 0), z_dir=(0, 0, -1))):
        with Locations((1.464, 0.25)):
            Circle(F3_R)
    extrude(amount=F4_DEPTH)

    # F5#8
    f5_8_edges = [f4ba.edges().sort_by_distance(p)[0] for p in [
        (1.2965, -0.25, -0.24),
        (1.2965, -0.25, 0),
    ]]
    fillet(f5_8_edges, radius=F5_8_R)


with BuildPart() as f4bb:
    # F3 (on face) → F4, piece 28 (new body)
    with BuildSketch(Plane(origin=(0, 0, 0), x_dir=(1, 0, 0), z_dir=(0, 0, -1))):
        with Locations((1.464, 0.75)):
            Circle(F3_R)
    extrude(amount=F4_DEPTH)

    # F5#7
    f5_7_edges = [f4bb.edges().sort_by_distance(p)[0] for p in [
        (1.2965, -0.75, -0.24),
        (1.2965, -0.75, 0),
    ]]
    fillet(f5_7_edges, radius=F5_7_R)


solid = Compound([f1.part, f2.part, f4.part, f4b.part, f4c.part, f4d.part, f4e.part, f4f.part, f4g.part, f4h.part, f4i.part, f4j.part, f4k.part, f4l.part, f4m.part, f4n.part, f4o.part, f4p.part, f4q.part, f4r.part, f4s.part, f4t.part, f4u.part, f4v.part, f4w.part, f4x.part, f4y.part, f4z.part, f4ba.part, f4bb.part])
